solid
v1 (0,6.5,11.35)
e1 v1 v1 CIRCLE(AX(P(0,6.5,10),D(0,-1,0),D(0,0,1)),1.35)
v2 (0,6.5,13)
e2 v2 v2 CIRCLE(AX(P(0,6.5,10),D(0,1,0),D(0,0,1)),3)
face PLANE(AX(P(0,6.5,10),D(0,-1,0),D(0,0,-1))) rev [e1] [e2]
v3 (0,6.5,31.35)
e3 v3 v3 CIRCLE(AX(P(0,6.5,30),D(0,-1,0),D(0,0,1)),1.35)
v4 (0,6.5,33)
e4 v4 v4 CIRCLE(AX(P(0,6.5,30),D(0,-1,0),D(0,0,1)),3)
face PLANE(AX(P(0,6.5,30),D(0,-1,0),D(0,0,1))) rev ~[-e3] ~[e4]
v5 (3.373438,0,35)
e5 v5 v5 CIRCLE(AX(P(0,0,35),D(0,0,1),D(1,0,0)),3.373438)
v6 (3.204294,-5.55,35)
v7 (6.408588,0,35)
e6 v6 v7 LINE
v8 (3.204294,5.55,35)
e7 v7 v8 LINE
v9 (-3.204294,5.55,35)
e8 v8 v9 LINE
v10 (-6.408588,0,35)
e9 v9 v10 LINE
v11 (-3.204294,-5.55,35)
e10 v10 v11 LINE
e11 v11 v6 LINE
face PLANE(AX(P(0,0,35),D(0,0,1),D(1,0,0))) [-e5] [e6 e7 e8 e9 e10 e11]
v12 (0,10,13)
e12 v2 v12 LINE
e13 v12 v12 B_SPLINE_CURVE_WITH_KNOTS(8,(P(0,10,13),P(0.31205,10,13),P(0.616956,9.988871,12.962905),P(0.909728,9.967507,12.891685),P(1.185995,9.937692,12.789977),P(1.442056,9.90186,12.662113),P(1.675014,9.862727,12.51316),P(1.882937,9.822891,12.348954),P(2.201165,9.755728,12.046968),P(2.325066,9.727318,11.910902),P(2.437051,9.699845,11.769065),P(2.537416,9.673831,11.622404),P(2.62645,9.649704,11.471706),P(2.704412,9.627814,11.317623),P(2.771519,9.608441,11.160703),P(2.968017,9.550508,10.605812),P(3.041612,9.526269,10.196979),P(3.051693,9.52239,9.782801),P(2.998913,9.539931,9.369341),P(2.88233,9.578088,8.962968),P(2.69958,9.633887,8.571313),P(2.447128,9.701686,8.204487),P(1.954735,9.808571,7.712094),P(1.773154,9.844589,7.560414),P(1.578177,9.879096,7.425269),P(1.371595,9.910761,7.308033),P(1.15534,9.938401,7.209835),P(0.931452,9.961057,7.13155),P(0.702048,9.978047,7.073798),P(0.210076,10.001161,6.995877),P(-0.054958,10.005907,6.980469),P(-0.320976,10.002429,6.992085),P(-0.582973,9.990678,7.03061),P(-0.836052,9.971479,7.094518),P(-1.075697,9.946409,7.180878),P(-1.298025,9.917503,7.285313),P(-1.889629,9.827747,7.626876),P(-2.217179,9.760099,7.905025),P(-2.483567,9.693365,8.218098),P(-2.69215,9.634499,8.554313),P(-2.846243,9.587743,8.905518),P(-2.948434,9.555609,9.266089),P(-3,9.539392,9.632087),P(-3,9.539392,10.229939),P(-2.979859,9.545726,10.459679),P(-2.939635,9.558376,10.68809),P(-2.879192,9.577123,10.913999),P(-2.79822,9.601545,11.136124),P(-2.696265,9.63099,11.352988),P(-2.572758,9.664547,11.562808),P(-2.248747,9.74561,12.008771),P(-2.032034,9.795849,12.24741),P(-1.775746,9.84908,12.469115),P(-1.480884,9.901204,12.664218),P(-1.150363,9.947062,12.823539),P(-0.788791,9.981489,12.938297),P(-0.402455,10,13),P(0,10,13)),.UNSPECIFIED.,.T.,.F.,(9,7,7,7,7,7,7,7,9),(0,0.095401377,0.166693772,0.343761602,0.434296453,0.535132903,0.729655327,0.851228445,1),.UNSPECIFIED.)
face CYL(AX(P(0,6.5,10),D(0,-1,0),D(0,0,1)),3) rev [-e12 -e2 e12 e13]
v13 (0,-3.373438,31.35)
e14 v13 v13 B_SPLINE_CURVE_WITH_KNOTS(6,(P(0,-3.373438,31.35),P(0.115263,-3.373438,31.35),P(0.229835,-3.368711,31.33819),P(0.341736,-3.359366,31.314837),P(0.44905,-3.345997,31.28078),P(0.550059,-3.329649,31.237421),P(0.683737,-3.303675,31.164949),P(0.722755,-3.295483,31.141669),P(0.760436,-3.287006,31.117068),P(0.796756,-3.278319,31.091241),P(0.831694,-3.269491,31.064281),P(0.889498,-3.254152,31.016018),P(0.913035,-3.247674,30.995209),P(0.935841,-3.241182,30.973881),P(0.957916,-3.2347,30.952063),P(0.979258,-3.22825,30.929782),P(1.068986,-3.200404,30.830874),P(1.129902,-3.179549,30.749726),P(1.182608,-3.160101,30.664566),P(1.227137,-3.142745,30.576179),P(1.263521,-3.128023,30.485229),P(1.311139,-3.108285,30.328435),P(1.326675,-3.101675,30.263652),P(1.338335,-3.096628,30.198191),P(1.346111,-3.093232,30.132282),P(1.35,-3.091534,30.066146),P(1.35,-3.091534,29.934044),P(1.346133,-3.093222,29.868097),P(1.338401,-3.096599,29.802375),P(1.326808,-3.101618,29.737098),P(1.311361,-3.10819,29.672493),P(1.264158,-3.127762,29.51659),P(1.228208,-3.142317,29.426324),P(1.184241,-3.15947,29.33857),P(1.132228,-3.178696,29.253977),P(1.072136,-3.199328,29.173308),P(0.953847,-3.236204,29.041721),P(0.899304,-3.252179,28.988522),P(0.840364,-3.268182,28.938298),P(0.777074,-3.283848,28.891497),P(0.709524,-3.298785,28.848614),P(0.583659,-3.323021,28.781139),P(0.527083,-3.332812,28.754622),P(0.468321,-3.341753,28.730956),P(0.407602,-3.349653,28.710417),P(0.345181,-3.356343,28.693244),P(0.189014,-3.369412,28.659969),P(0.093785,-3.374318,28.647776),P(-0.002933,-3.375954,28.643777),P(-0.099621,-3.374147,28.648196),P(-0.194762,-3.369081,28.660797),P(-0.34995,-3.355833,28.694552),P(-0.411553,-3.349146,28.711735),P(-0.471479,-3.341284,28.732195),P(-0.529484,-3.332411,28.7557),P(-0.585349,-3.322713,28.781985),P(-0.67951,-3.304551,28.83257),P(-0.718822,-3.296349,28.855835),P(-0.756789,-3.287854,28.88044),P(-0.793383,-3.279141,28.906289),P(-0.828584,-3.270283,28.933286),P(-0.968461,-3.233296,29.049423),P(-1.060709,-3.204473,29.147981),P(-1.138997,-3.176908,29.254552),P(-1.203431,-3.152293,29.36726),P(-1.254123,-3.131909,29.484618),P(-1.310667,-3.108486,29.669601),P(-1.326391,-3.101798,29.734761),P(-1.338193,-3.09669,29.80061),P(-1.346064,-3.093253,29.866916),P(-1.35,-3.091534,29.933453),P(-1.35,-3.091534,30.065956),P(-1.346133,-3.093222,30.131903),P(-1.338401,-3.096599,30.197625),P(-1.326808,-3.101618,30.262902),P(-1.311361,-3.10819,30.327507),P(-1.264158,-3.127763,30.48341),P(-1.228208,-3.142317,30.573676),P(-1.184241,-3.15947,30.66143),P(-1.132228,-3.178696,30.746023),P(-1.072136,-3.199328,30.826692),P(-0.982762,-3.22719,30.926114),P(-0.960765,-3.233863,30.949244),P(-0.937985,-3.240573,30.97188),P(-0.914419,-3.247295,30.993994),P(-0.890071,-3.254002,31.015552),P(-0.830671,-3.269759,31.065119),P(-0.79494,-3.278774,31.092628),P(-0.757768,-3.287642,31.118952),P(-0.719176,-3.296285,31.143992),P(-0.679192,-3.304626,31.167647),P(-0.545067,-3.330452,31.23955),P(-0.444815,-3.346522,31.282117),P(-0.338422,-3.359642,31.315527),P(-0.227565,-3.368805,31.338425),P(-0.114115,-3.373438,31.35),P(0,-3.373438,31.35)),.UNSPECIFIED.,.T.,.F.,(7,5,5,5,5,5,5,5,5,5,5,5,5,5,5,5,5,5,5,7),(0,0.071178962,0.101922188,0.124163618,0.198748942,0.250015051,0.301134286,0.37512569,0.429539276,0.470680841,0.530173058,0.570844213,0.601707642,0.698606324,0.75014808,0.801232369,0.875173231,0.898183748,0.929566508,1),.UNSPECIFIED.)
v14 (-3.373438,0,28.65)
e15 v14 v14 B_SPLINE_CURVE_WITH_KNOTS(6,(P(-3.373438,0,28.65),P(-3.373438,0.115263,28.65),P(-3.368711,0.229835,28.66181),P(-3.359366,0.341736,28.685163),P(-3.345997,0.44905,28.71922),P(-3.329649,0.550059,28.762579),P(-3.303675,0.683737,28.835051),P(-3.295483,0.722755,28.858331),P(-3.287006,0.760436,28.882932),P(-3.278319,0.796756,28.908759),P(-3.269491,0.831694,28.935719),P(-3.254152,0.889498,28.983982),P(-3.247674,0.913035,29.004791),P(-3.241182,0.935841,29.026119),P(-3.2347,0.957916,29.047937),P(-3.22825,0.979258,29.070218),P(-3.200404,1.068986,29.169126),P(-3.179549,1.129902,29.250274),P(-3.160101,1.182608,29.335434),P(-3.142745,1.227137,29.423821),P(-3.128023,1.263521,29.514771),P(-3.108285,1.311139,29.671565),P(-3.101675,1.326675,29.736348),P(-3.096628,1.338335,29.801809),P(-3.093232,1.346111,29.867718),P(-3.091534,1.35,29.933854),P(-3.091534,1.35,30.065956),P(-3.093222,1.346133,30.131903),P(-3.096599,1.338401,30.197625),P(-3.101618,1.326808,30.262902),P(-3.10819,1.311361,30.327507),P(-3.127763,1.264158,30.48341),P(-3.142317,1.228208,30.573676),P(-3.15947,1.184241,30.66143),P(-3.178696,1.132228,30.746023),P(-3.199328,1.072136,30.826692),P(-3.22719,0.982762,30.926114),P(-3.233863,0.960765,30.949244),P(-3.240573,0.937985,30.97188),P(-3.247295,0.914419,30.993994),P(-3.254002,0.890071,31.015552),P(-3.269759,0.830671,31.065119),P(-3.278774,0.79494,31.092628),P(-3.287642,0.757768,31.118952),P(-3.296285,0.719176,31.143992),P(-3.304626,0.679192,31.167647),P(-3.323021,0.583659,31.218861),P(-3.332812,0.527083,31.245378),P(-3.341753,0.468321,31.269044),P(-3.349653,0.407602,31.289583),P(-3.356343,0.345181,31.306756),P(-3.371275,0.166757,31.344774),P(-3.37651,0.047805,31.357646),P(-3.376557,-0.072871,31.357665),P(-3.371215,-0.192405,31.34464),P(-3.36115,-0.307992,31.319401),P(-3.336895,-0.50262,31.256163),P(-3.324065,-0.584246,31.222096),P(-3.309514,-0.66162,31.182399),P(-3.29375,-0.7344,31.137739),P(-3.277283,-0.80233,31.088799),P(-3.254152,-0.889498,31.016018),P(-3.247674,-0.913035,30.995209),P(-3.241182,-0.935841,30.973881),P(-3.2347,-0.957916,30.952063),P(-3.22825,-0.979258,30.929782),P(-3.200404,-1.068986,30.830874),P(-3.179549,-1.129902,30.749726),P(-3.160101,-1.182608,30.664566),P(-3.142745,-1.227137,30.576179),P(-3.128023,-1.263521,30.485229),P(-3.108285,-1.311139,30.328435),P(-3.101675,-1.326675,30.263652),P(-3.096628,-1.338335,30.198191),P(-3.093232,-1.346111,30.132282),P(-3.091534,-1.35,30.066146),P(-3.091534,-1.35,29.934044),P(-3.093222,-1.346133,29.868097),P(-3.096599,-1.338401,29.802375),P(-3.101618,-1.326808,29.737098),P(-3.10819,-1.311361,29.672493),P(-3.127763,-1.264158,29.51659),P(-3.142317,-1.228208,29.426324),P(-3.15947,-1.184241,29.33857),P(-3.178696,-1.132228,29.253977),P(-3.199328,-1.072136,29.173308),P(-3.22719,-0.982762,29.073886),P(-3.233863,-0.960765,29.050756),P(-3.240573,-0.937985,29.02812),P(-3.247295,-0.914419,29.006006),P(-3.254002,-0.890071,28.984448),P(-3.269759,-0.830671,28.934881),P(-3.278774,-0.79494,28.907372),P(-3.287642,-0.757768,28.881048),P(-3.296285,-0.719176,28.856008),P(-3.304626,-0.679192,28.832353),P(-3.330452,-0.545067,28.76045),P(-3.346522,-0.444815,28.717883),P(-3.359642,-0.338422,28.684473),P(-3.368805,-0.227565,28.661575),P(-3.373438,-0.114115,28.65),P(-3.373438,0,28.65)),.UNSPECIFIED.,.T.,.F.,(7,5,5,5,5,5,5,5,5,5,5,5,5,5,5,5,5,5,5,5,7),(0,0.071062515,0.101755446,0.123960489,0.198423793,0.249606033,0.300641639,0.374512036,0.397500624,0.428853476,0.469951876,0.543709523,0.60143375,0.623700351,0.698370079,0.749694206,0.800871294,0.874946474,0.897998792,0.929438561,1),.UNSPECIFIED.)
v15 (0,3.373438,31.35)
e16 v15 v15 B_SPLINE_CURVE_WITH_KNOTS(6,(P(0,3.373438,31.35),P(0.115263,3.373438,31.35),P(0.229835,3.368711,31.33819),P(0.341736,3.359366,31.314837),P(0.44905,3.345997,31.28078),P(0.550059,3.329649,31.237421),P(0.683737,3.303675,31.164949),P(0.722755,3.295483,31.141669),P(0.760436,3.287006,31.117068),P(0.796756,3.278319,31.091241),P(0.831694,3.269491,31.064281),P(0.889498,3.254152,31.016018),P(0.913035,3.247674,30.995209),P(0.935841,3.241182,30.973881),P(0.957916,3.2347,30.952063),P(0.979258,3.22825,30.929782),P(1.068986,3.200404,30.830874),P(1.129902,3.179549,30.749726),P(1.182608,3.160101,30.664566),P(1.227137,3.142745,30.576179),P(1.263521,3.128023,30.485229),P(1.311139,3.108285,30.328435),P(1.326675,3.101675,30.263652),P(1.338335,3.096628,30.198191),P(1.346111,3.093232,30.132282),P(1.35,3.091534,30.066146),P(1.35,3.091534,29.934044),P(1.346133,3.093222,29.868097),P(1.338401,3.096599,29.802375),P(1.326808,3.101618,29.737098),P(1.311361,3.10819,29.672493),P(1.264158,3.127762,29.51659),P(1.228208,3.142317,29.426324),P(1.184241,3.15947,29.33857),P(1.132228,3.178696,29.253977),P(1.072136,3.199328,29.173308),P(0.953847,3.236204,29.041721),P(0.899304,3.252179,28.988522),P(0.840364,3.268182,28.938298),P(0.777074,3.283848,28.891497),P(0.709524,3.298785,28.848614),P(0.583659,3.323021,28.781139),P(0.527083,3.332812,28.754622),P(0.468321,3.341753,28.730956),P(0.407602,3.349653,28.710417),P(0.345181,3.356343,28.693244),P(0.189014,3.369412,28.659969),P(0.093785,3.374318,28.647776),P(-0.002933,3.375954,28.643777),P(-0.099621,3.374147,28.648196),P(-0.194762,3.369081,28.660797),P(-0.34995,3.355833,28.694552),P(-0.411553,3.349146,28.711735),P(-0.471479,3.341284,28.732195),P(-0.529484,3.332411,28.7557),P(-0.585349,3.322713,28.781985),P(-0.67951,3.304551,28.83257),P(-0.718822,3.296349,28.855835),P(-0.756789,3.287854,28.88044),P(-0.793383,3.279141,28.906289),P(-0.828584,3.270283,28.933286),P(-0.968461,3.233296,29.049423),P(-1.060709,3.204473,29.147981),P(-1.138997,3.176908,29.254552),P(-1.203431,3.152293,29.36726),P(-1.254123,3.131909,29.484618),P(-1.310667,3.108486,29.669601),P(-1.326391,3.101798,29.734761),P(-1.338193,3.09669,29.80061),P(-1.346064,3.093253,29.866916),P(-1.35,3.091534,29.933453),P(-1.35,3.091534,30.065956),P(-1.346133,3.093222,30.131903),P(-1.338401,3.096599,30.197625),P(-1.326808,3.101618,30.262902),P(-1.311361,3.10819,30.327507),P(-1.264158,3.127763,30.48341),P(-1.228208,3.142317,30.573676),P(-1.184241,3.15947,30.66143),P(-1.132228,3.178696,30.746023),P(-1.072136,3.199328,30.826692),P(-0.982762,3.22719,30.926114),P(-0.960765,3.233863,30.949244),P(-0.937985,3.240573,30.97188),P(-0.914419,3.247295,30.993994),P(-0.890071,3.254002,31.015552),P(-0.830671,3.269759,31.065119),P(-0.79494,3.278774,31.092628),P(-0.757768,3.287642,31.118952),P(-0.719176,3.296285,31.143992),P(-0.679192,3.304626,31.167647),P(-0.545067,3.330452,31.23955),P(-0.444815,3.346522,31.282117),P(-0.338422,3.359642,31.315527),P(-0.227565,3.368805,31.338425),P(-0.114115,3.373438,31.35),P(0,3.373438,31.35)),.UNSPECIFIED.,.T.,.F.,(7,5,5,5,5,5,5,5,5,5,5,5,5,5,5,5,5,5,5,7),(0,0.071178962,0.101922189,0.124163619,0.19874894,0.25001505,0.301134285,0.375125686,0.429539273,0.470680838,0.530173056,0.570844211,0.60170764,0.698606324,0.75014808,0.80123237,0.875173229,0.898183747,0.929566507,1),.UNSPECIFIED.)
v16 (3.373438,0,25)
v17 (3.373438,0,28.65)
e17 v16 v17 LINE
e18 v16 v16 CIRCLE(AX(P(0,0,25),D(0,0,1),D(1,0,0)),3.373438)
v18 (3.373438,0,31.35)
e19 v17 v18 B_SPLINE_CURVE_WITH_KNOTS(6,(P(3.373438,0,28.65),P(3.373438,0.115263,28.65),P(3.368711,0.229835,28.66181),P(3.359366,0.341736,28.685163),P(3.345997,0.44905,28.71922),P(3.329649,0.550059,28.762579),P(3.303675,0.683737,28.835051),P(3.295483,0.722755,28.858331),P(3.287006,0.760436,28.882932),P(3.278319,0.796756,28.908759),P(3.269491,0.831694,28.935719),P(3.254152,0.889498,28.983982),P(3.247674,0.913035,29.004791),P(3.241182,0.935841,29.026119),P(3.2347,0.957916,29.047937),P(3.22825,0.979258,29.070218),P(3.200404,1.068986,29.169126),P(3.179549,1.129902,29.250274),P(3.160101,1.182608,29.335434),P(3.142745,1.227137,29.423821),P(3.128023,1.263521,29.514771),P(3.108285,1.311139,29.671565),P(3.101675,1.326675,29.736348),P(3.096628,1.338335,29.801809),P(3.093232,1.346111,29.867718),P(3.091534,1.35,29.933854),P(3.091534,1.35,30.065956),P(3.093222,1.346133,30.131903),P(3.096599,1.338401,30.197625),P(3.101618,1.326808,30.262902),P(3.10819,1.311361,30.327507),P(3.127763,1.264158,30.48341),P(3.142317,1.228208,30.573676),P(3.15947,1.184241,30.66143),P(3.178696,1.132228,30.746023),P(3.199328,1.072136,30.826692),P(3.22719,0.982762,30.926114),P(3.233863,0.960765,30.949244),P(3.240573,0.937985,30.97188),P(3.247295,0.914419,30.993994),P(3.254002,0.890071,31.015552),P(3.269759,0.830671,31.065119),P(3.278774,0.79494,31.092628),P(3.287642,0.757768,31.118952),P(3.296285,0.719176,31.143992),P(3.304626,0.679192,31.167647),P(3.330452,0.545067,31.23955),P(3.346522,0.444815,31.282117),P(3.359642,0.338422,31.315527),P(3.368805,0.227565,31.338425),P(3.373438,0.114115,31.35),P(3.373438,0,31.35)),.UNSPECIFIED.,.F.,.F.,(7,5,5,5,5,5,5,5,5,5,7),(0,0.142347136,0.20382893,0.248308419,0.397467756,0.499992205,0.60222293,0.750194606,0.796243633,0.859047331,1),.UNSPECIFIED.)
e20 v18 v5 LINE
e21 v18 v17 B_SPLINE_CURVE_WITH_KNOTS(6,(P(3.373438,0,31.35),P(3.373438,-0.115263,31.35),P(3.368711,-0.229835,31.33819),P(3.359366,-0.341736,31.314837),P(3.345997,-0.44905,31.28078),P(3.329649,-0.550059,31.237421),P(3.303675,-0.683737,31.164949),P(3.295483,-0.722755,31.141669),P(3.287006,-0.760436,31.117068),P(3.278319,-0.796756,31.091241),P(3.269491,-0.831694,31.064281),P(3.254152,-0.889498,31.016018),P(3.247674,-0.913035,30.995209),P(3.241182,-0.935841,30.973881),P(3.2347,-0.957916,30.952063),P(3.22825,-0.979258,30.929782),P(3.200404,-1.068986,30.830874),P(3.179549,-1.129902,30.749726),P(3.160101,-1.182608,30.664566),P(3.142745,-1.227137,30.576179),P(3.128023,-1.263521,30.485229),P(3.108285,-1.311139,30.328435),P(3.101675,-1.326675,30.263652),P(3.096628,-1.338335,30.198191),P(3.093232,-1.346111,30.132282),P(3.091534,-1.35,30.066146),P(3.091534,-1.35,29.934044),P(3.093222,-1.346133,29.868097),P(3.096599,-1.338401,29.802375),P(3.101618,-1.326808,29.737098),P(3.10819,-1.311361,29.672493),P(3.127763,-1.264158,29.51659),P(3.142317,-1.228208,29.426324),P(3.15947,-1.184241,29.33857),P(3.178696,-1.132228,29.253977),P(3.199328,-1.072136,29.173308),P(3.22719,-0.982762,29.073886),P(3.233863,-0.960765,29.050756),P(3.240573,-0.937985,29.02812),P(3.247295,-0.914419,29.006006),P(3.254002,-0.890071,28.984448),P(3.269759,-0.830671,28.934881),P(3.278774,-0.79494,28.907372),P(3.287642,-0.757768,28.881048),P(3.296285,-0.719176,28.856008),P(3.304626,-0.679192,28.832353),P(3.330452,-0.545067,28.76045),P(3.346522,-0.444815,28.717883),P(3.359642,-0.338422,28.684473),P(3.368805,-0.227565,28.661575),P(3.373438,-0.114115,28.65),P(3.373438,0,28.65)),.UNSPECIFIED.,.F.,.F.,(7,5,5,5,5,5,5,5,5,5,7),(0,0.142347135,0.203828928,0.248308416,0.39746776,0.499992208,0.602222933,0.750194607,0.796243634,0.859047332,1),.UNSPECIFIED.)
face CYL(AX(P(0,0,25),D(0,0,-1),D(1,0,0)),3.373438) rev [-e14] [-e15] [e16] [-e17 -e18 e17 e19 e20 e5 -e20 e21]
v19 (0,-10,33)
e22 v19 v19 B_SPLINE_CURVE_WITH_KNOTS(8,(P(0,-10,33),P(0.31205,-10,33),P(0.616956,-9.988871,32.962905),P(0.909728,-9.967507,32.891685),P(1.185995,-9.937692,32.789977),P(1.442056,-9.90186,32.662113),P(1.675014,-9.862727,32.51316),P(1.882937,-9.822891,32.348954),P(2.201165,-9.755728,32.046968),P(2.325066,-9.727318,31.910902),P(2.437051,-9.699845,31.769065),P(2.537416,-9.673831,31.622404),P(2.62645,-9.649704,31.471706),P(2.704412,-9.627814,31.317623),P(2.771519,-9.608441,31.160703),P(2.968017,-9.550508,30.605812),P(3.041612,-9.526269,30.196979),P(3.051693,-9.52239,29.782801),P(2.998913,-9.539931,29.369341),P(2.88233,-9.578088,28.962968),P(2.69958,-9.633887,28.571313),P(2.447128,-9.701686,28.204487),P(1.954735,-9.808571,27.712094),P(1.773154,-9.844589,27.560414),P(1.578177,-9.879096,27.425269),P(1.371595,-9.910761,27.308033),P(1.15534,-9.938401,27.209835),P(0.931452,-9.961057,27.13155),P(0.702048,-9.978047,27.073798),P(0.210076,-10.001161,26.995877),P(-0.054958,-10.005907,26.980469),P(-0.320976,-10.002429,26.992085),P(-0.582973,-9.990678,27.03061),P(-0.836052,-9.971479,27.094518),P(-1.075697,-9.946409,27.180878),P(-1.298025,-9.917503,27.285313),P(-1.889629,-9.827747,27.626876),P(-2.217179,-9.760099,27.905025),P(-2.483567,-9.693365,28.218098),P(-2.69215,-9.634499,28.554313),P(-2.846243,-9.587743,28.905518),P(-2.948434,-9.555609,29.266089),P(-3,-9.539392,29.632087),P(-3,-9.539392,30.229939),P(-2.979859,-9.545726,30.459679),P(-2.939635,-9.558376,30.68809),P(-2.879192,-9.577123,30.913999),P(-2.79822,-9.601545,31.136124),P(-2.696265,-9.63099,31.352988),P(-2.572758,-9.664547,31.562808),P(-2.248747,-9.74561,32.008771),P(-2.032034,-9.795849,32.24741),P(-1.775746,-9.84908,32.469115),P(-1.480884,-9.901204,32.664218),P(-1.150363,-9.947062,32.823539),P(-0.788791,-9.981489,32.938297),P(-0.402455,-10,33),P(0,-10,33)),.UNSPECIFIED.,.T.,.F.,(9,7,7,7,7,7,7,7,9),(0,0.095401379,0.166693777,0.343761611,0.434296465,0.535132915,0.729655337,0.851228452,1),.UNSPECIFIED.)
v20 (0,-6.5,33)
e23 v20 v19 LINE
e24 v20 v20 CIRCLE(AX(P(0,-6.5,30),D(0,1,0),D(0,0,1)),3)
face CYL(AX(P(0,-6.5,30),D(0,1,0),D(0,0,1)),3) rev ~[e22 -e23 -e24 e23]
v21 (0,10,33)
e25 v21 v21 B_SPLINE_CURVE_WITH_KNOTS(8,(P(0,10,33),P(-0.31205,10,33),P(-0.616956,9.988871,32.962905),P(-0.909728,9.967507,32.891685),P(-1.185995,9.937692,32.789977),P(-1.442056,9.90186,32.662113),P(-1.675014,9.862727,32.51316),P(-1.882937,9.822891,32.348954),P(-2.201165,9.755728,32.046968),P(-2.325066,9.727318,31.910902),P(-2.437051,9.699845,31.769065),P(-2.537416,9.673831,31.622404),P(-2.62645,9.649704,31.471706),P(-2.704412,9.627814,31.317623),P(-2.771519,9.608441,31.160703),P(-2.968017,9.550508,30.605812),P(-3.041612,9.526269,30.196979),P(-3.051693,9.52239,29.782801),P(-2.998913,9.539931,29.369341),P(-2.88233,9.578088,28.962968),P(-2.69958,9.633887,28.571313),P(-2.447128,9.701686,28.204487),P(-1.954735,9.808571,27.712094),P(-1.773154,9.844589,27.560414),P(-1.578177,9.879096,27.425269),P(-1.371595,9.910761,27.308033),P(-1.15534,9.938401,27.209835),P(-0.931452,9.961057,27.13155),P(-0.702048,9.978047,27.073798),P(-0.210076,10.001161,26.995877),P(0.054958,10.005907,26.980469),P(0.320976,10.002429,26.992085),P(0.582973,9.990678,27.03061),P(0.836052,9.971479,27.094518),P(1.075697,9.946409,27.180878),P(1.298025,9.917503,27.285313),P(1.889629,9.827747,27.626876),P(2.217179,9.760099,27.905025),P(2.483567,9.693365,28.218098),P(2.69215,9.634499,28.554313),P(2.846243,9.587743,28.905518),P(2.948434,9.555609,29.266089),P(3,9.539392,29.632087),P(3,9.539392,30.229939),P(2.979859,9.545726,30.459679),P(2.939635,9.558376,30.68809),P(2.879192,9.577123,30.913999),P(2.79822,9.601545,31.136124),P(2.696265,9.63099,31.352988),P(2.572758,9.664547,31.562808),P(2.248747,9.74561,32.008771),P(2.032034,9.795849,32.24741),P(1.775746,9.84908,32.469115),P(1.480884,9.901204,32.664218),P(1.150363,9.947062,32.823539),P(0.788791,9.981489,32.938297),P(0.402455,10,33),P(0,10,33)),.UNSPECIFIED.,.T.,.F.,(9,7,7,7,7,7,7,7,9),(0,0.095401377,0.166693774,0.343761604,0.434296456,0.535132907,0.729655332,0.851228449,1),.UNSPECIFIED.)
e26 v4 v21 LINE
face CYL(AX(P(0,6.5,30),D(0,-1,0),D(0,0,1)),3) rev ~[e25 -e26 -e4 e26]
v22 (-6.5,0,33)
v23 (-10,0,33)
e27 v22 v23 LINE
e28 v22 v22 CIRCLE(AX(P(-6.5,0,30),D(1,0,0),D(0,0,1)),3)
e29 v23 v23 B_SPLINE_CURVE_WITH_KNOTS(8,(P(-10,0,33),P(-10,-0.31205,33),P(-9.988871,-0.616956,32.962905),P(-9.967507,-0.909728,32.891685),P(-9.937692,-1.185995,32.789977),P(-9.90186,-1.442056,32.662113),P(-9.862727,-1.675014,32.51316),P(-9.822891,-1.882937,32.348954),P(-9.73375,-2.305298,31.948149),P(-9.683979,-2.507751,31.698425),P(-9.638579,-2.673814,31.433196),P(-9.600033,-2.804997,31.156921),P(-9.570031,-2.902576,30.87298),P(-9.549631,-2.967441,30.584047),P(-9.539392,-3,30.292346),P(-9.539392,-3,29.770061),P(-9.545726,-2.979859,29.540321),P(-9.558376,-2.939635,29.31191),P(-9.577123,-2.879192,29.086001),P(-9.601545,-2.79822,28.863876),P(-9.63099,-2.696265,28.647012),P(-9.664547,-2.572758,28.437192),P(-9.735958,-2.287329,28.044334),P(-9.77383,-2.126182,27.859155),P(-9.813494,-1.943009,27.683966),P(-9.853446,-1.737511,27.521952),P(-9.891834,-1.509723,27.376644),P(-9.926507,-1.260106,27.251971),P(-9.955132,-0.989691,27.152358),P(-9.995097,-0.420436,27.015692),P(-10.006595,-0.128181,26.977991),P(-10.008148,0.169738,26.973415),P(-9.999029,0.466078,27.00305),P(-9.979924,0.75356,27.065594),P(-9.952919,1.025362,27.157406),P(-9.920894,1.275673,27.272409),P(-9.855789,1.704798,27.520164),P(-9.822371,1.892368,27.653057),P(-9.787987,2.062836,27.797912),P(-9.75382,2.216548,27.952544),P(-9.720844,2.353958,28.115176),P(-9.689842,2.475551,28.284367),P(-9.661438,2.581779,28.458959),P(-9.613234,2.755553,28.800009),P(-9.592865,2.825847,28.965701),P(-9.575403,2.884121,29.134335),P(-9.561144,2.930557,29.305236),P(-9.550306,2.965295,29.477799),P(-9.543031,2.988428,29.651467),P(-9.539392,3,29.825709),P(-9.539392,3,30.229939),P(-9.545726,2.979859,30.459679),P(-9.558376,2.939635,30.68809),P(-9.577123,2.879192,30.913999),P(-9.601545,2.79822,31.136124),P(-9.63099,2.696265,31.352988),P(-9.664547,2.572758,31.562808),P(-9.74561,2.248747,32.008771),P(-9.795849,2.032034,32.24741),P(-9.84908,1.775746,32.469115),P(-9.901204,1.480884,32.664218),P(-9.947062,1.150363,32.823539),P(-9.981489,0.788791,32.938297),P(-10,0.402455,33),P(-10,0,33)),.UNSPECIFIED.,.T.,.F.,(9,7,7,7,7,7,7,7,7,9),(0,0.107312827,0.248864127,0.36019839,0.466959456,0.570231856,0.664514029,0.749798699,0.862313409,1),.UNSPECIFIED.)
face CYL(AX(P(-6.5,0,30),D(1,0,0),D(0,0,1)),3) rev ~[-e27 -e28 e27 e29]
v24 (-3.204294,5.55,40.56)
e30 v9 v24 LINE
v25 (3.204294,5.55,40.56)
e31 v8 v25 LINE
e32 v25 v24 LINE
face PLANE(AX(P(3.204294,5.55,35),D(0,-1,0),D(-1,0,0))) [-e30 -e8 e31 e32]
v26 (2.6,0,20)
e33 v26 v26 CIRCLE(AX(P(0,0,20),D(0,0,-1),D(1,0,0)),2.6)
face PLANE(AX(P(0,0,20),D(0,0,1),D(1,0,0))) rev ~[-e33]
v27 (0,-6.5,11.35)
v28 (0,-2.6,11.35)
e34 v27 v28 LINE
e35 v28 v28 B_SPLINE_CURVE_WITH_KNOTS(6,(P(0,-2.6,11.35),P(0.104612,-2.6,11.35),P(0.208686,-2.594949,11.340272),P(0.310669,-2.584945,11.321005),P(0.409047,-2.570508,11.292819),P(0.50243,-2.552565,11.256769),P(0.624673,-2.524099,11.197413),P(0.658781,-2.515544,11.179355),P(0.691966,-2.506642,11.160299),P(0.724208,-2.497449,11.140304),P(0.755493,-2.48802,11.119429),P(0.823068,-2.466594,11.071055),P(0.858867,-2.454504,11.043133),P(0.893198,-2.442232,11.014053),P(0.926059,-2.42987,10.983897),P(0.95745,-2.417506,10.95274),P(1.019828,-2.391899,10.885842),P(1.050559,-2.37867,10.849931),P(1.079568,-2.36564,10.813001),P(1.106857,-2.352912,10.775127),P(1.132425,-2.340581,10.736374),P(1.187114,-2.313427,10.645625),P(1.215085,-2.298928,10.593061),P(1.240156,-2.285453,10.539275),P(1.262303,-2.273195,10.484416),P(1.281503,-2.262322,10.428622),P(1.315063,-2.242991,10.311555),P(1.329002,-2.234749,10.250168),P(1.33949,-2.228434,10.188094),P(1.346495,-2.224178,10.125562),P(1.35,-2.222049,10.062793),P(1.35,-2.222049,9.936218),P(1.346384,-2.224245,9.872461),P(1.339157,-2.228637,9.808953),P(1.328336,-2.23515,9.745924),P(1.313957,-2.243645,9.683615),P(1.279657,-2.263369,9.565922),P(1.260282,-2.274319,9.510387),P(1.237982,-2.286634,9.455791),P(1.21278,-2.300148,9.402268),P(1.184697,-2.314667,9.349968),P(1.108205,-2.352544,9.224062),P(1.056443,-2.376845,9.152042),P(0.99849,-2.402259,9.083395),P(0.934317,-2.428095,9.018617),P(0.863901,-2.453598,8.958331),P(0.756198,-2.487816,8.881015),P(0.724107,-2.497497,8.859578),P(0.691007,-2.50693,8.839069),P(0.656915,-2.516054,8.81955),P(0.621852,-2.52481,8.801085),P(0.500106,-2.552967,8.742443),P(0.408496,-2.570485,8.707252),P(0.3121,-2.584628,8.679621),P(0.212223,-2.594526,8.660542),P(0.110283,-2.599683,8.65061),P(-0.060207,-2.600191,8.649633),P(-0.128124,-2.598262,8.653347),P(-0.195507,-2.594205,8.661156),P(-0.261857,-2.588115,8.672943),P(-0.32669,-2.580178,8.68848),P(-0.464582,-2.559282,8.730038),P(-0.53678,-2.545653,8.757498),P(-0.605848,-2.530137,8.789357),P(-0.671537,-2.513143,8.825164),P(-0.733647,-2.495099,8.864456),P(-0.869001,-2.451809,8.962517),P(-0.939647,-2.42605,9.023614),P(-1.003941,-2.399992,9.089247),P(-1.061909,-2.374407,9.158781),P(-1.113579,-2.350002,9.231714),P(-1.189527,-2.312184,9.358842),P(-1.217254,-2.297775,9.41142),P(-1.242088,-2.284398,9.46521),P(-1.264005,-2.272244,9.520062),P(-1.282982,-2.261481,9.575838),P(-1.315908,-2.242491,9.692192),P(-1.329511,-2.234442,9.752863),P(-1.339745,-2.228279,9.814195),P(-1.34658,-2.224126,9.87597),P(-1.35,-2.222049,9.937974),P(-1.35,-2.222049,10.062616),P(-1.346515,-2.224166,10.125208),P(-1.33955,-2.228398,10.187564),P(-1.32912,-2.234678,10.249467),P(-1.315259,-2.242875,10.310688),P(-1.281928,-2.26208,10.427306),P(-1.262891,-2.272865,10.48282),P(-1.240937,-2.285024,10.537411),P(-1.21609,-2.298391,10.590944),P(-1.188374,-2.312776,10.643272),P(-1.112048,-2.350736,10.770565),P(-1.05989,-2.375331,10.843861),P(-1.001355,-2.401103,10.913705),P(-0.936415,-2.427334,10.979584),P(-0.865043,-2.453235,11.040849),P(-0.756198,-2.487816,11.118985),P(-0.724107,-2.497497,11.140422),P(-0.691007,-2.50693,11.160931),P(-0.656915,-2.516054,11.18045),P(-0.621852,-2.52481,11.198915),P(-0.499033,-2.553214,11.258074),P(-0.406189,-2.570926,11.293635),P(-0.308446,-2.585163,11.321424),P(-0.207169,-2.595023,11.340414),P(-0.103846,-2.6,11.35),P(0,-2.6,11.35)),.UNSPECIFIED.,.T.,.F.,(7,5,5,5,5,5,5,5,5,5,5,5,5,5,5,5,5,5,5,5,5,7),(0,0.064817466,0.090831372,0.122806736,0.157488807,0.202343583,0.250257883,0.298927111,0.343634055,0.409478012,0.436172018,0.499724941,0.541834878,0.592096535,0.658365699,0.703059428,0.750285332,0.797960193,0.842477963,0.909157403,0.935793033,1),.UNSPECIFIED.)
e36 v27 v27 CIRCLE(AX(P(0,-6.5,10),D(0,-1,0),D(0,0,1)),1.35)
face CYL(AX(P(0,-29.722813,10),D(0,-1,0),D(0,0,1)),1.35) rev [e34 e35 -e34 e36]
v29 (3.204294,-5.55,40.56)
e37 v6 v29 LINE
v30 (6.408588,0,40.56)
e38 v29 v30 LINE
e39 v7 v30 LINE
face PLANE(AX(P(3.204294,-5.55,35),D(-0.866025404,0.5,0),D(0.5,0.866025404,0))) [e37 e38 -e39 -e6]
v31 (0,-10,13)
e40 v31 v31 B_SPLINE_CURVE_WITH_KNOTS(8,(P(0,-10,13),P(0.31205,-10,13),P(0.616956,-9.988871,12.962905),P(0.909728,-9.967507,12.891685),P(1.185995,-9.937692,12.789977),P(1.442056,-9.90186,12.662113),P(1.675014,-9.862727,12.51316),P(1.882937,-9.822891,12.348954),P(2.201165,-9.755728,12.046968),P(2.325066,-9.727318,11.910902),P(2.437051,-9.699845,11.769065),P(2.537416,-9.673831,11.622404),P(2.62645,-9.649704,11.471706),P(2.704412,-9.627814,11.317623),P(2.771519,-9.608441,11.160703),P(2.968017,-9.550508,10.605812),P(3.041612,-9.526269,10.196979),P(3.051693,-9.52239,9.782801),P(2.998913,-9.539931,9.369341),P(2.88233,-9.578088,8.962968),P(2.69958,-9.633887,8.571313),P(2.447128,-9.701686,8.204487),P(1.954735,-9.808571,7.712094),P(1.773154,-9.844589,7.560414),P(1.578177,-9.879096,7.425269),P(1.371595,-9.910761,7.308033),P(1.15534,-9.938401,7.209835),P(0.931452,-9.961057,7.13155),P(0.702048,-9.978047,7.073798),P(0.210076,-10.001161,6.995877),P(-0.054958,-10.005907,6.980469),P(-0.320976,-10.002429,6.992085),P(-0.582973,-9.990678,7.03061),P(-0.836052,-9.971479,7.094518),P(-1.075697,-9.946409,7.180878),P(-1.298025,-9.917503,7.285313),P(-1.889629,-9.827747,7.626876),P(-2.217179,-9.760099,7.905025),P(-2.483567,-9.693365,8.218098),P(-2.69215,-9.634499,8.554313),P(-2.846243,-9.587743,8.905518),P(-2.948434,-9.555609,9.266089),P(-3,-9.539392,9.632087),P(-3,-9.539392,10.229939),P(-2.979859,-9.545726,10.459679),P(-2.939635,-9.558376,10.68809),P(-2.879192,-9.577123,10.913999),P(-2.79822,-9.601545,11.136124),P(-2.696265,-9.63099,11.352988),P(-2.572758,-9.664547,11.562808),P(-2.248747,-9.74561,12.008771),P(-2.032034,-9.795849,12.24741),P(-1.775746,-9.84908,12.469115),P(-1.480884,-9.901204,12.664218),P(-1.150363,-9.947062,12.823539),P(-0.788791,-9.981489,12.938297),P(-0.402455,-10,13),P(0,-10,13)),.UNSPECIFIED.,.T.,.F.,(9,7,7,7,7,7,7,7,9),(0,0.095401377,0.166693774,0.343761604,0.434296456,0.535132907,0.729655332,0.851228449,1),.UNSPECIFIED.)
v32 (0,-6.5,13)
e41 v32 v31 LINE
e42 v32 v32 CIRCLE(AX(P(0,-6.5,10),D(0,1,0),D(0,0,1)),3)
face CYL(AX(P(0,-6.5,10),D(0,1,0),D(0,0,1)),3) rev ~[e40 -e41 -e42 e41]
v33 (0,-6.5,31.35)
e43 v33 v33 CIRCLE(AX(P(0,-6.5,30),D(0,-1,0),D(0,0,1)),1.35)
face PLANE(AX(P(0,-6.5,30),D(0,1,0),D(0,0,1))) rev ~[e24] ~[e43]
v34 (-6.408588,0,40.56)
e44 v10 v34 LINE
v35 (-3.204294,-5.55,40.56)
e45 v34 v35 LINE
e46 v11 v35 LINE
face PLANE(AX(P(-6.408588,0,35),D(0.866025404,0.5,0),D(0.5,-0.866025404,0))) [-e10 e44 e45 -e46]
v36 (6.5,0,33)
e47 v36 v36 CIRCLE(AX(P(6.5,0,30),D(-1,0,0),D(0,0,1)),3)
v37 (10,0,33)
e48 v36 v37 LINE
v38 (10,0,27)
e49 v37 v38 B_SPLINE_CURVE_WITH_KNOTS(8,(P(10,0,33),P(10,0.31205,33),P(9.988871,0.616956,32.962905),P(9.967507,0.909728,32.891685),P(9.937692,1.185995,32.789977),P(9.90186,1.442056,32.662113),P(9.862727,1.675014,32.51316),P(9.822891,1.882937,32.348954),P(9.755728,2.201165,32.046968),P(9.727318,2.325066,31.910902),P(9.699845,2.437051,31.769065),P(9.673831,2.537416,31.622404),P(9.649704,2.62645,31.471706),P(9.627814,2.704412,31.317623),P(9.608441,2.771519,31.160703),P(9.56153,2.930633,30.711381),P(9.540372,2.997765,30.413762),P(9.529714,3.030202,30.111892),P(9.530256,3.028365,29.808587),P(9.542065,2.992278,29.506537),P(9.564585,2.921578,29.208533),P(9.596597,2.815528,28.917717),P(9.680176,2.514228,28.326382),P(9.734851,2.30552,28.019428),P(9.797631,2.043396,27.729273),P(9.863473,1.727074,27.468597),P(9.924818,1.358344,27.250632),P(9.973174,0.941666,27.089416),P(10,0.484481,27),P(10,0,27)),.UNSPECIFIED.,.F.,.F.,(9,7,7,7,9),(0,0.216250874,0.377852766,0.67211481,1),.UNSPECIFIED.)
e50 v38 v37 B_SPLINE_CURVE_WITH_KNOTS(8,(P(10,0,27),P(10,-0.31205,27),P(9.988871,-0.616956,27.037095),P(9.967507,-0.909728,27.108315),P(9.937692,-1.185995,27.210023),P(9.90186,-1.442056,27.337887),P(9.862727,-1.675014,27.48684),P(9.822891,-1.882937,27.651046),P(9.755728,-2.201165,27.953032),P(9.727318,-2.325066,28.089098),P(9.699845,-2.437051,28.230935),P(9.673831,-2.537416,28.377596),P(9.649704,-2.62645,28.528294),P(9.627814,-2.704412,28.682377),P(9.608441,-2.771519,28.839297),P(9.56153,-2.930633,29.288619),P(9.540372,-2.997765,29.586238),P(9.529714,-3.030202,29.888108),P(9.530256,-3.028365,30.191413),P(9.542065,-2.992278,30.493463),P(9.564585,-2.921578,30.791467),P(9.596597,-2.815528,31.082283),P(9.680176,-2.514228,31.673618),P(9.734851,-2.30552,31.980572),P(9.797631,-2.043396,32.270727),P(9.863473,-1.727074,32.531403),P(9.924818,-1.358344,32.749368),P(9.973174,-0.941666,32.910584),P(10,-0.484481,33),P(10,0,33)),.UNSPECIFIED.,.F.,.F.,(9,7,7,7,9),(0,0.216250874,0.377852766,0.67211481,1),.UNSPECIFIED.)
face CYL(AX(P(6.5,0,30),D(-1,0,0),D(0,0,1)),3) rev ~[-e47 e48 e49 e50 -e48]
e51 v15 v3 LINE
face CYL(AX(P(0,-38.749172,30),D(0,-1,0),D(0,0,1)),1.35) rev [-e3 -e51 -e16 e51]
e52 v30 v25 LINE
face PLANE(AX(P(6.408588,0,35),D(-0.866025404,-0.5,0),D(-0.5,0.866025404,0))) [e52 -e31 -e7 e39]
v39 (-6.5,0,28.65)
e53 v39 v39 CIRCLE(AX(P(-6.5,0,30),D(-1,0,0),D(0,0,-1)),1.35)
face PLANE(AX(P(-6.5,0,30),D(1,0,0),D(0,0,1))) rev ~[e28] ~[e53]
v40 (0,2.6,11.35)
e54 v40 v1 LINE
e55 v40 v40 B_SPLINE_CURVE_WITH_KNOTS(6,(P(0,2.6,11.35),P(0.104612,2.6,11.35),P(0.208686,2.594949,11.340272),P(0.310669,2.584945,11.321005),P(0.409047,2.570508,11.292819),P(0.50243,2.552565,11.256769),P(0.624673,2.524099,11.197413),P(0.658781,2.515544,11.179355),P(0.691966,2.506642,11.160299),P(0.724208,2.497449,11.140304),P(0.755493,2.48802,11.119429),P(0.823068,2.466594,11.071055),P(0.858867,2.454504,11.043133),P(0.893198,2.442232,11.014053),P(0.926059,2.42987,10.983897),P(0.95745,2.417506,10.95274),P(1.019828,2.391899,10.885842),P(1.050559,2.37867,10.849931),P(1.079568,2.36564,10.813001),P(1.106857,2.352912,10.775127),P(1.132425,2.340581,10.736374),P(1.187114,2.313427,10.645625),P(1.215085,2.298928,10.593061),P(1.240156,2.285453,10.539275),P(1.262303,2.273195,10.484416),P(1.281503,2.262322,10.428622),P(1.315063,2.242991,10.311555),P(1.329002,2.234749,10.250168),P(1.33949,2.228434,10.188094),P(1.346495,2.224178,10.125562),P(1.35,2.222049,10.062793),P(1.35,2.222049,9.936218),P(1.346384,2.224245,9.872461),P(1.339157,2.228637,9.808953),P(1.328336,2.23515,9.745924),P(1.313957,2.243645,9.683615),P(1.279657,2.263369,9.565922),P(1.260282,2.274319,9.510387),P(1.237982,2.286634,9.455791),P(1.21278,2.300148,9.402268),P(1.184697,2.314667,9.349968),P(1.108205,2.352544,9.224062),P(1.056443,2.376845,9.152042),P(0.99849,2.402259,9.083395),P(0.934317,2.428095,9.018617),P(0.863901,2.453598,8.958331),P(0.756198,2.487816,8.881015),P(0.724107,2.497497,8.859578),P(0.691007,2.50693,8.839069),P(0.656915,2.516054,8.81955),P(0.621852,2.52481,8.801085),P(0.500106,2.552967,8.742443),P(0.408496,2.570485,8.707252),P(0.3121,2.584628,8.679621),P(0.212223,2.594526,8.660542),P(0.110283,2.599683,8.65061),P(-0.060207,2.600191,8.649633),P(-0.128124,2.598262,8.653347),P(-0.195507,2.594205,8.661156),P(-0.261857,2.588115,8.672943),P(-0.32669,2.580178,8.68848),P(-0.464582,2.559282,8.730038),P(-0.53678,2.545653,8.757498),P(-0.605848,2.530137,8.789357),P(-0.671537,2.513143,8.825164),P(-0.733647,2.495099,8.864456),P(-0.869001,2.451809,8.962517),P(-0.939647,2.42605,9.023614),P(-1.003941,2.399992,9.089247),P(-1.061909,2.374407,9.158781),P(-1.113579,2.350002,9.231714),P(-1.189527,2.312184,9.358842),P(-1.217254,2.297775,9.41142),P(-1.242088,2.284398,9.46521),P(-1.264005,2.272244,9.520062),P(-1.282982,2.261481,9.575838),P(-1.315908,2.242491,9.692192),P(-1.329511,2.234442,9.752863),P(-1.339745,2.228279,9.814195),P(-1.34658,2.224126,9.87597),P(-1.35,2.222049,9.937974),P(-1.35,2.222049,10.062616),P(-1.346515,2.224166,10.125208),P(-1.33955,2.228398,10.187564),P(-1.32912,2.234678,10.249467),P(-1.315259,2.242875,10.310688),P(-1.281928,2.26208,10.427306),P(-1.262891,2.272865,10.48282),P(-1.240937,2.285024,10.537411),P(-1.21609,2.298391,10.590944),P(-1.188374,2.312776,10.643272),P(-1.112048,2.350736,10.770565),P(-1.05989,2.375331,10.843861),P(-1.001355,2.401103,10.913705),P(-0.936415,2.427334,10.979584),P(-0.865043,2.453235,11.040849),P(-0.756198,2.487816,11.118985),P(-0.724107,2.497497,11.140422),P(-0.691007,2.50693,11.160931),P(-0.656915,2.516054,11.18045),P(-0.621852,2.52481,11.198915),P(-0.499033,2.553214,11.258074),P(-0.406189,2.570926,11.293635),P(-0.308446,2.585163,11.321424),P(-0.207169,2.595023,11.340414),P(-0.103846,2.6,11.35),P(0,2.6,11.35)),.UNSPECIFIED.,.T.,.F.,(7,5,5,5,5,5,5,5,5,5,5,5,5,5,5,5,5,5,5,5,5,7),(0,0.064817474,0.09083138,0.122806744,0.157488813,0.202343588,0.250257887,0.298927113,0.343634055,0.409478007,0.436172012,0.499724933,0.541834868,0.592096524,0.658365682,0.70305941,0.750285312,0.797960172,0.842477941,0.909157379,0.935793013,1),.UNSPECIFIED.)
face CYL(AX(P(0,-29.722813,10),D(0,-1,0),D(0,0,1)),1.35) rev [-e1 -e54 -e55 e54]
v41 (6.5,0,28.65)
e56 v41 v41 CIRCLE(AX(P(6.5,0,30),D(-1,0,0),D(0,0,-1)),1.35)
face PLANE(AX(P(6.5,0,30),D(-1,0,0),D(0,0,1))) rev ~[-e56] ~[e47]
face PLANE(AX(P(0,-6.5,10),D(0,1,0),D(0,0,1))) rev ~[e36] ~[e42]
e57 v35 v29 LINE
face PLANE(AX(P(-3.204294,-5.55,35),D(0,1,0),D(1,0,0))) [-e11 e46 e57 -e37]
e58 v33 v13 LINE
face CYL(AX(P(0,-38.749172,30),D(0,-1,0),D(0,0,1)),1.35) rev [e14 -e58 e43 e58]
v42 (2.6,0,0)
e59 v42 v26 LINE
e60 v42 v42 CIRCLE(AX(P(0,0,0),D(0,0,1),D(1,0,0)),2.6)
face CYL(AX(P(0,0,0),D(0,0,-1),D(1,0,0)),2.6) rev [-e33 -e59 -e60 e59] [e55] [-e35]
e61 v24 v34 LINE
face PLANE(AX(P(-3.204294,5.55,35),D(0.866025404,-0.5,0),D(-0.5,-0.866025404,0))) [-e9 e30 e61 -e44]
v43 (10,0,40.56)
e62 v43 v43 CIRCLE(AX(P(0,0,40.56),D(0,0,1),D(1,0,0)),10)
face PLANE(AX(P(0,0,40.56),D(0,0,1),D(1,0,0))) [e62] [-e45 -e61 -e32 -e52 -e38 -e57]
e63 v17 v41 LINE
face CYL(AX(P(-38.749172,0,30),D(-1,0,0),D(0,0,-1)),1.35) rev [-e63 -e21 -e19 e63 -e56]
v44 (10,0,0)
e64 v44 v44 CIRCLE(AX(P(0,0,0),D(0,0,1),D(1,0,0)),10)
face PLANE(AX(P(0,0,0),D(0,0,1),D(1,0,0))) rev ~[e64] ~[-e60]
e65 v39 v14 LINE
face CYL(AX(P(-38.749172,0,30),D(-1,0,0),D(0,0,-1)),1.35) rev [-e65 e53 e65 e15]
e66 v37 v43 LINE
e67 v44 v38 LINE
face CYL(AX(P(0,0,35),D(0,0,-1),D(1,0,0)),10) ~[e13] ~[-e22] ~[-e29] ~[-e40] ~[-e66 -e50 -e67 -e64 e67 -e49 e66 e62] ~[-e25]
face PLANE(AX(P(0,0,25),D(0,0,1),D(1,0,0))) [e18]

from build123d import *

# Parameters (mm, degrees)
SKETCH1_R               = 10
SKETCH1_R_2             = 2.6
BOSS_EXTRUDE1_DEPTH     = 25
BOSS_EXTRUDE2_START     = -5
SKETCH2_R               = 10
BOSS_EXTRUDE2_DEPTH     = 5
CUT_EXTRUDE1_DEPTH      = 29.722813233
CUT_EXTRUDE1_DEPTH_BACK = 29.722813233
SKETCH3_R               = 1.35
SKETCH6_R               = 10
SKETCH6_R_2             = 3.3734375
BOSS_EXTRUDE4_DEPTH     = 10
CUT_EXTRUDE2_DEPTH      = 38.74917233
CUT_EXTRUDE2_DEPTH_BACK = 38.74917233
SKETCH7_R               = 1.35
CUT_EXTRUDE3_DEPTH      = 38.74917233
CUT_EXTRUDE3_DEPTH_BACK = 38.74917233
SKETCH8_R               = 1.35
SKETCH5_R               = 10
BOSS_EXTRUDE3_DEPTH     = 5.56
CUT_EXTRUDE4_START      = -6.5
SKETCH9_R               = 3
CUT_EXTRUDE4_DEPTH      = 25.4
CUT_EXTRUDE5_START      = -6.5
SKETCH10_R              = 3
CUT_EXTRUDE5_DEPTH      = 25.4
CIRPATTERN1_COUNT       = 4


with BuildPart() as part:
    # Sketch1 → Boss-Extrude1 (new body)
    with BuildSketch(Plane.XY):
        Circle(SKETCH1_R)
        Circle(SKETCH1_R_2, mode=Mode.SUBTRACT)
    extrude(amount=BOSS_EXTRUDE1_DEPTH)

    # Sketch2 → Boss-Extrude2 (add)
    with BuildSketch(Plane.XY.offset(25).offset(BOSS_EXTRUDE2_START)):
        Circle(SKETCH2_R)
    extrude(amount=BOSS_EXTRUDE2_DEPTH)

    # Sketch3 → Cut-Extrude1 (cut, two sides: drawn at the far end of the back side and taken through both)
    with BuildSketch(Plane(origin=(0, 0, 0), x_dir=(1, 0, 0), z_dir=(0, 1, 0)).offset(-CUT_EXTRUDE1_DEPTH_BACK)):
        with Locations((0, -10)):
            Circle(SKETCH3_R)
    extrude(amount=CUT_EXTRUDE1_DEPTH + CUT_EXTRUDE1_DEPTH_BACK, mode=Mode.SUBTRACT)

    # Sketch6 → Boss-Extrude4 (add)
    with BuildSketch(Plane.XY.offset(25)):
        Circle(SKETCH6_R)
        Circle(SKETCH6_R_2, mode=Mode.SUBTRACT)
    extrude(amount=BOSS_EXTRUDE4_DEPTH)

    # Sketch7 → Cut-Extrude2 (cut, two sides: drawn at the far end of the back side and taken through both)
    with BuildSketch(Plane(origin=(0, 0, 0), x_dir=(1, 0, 0), z_dir=(0, 1, 0)).offset(-CUT_EXTRUDE2_DEPTH_BACK)):
        with Locations((0, -30)):
            Circle(SKETCH7_R)
    extrude(amount=CUT_EXTRUDE2_DEPTH + CUT_EXTRUDE2_DEPTH_BACK, mode=Mode.SUBTRACT)

    # Sketch8 → Cut-Extrude3 (cut, two sides: drawn at the far end of the back side and taken through both)
    with BuildSketch(Plane(origin=(0, 0, 0), x_dir=(0, 0, -1), z_dir=(1, 0, 0)).offset(-CUT_EXTRUDE3_DEPTH_BACK)):
        with Locations((-30, 0)):
            Circle(SKETCH8_R)
    extrude(amount=CUT_EXTRUDE3_DEPTH + CUT_EXTRUDE3_DEPTH_BACK, mode=Mode.SUBTRACT)

    # Sketch5 → Boss-Extrude3 (add)
    with BuildSketch(Plane.XY.offset(35)):
        Circle(SKETCH5_R)
        Polygon((3.204293994, -5.55), (6.408587988, 0), (3.204293994, 5.55), (-3.204293994, 5.55), (-6.408587988, 0), (-3.204293994, -5.55), align=None, mode=Mode.SUBTRACT)
    extrude(amount=BOSS_EXTRUDE3_DEPTH)

    # Sketch9 → Cut-Extrude4 (cut)
    with BuildSketch(Plane(origin=(0, 0, 0), x_dir=(1, 0, 0), z_dir=(0, 1, 0)).offset(CUT_EXTRUDE4_START)):
        with Locations((0, -10)):
            Circle(SKETCH9_R)
    cut_extrude4 = extrude(amount=-CUT_EXTRUDE4_DEPTH, mode=Mode.SUBTRACT)

    # Mirror1: Cut-Extrude4 across plane
    add(cut_extrude4.mirror(Plane.ZX), mode=Mode.SUBTRACT)

    # Sketch10 → Cut-Extrude5 (cut)
    with BuildSketch(Plane(origin=(0, 0, 0), x_dir=(1, 0, 0), z_dir=(0, 1, 0)).offset(CUT_EXTRUDE5_START)):
        with Locations((0, -30)):
            Circle(SKETCH10_R)
    cut_extrude5 = extrude(amount=-CUT_EXTRUDE5_DEPTH, mode=Mode.SUBTRACT)

    # CirPattern1: Cut-Extrude5 ×4 about axis
    cirpattern1_axis = Axis((0, 0, 40.56), (0, 0, -1))
    for i in range(1, CIRPATTERN1_COUNT):
        add(cut_extrude5.rotate(cirpattern1_axis, i * 360 / CIRPATTERN1_COUNT), mode=Mode.SUBTRACT)


solid = part.part
